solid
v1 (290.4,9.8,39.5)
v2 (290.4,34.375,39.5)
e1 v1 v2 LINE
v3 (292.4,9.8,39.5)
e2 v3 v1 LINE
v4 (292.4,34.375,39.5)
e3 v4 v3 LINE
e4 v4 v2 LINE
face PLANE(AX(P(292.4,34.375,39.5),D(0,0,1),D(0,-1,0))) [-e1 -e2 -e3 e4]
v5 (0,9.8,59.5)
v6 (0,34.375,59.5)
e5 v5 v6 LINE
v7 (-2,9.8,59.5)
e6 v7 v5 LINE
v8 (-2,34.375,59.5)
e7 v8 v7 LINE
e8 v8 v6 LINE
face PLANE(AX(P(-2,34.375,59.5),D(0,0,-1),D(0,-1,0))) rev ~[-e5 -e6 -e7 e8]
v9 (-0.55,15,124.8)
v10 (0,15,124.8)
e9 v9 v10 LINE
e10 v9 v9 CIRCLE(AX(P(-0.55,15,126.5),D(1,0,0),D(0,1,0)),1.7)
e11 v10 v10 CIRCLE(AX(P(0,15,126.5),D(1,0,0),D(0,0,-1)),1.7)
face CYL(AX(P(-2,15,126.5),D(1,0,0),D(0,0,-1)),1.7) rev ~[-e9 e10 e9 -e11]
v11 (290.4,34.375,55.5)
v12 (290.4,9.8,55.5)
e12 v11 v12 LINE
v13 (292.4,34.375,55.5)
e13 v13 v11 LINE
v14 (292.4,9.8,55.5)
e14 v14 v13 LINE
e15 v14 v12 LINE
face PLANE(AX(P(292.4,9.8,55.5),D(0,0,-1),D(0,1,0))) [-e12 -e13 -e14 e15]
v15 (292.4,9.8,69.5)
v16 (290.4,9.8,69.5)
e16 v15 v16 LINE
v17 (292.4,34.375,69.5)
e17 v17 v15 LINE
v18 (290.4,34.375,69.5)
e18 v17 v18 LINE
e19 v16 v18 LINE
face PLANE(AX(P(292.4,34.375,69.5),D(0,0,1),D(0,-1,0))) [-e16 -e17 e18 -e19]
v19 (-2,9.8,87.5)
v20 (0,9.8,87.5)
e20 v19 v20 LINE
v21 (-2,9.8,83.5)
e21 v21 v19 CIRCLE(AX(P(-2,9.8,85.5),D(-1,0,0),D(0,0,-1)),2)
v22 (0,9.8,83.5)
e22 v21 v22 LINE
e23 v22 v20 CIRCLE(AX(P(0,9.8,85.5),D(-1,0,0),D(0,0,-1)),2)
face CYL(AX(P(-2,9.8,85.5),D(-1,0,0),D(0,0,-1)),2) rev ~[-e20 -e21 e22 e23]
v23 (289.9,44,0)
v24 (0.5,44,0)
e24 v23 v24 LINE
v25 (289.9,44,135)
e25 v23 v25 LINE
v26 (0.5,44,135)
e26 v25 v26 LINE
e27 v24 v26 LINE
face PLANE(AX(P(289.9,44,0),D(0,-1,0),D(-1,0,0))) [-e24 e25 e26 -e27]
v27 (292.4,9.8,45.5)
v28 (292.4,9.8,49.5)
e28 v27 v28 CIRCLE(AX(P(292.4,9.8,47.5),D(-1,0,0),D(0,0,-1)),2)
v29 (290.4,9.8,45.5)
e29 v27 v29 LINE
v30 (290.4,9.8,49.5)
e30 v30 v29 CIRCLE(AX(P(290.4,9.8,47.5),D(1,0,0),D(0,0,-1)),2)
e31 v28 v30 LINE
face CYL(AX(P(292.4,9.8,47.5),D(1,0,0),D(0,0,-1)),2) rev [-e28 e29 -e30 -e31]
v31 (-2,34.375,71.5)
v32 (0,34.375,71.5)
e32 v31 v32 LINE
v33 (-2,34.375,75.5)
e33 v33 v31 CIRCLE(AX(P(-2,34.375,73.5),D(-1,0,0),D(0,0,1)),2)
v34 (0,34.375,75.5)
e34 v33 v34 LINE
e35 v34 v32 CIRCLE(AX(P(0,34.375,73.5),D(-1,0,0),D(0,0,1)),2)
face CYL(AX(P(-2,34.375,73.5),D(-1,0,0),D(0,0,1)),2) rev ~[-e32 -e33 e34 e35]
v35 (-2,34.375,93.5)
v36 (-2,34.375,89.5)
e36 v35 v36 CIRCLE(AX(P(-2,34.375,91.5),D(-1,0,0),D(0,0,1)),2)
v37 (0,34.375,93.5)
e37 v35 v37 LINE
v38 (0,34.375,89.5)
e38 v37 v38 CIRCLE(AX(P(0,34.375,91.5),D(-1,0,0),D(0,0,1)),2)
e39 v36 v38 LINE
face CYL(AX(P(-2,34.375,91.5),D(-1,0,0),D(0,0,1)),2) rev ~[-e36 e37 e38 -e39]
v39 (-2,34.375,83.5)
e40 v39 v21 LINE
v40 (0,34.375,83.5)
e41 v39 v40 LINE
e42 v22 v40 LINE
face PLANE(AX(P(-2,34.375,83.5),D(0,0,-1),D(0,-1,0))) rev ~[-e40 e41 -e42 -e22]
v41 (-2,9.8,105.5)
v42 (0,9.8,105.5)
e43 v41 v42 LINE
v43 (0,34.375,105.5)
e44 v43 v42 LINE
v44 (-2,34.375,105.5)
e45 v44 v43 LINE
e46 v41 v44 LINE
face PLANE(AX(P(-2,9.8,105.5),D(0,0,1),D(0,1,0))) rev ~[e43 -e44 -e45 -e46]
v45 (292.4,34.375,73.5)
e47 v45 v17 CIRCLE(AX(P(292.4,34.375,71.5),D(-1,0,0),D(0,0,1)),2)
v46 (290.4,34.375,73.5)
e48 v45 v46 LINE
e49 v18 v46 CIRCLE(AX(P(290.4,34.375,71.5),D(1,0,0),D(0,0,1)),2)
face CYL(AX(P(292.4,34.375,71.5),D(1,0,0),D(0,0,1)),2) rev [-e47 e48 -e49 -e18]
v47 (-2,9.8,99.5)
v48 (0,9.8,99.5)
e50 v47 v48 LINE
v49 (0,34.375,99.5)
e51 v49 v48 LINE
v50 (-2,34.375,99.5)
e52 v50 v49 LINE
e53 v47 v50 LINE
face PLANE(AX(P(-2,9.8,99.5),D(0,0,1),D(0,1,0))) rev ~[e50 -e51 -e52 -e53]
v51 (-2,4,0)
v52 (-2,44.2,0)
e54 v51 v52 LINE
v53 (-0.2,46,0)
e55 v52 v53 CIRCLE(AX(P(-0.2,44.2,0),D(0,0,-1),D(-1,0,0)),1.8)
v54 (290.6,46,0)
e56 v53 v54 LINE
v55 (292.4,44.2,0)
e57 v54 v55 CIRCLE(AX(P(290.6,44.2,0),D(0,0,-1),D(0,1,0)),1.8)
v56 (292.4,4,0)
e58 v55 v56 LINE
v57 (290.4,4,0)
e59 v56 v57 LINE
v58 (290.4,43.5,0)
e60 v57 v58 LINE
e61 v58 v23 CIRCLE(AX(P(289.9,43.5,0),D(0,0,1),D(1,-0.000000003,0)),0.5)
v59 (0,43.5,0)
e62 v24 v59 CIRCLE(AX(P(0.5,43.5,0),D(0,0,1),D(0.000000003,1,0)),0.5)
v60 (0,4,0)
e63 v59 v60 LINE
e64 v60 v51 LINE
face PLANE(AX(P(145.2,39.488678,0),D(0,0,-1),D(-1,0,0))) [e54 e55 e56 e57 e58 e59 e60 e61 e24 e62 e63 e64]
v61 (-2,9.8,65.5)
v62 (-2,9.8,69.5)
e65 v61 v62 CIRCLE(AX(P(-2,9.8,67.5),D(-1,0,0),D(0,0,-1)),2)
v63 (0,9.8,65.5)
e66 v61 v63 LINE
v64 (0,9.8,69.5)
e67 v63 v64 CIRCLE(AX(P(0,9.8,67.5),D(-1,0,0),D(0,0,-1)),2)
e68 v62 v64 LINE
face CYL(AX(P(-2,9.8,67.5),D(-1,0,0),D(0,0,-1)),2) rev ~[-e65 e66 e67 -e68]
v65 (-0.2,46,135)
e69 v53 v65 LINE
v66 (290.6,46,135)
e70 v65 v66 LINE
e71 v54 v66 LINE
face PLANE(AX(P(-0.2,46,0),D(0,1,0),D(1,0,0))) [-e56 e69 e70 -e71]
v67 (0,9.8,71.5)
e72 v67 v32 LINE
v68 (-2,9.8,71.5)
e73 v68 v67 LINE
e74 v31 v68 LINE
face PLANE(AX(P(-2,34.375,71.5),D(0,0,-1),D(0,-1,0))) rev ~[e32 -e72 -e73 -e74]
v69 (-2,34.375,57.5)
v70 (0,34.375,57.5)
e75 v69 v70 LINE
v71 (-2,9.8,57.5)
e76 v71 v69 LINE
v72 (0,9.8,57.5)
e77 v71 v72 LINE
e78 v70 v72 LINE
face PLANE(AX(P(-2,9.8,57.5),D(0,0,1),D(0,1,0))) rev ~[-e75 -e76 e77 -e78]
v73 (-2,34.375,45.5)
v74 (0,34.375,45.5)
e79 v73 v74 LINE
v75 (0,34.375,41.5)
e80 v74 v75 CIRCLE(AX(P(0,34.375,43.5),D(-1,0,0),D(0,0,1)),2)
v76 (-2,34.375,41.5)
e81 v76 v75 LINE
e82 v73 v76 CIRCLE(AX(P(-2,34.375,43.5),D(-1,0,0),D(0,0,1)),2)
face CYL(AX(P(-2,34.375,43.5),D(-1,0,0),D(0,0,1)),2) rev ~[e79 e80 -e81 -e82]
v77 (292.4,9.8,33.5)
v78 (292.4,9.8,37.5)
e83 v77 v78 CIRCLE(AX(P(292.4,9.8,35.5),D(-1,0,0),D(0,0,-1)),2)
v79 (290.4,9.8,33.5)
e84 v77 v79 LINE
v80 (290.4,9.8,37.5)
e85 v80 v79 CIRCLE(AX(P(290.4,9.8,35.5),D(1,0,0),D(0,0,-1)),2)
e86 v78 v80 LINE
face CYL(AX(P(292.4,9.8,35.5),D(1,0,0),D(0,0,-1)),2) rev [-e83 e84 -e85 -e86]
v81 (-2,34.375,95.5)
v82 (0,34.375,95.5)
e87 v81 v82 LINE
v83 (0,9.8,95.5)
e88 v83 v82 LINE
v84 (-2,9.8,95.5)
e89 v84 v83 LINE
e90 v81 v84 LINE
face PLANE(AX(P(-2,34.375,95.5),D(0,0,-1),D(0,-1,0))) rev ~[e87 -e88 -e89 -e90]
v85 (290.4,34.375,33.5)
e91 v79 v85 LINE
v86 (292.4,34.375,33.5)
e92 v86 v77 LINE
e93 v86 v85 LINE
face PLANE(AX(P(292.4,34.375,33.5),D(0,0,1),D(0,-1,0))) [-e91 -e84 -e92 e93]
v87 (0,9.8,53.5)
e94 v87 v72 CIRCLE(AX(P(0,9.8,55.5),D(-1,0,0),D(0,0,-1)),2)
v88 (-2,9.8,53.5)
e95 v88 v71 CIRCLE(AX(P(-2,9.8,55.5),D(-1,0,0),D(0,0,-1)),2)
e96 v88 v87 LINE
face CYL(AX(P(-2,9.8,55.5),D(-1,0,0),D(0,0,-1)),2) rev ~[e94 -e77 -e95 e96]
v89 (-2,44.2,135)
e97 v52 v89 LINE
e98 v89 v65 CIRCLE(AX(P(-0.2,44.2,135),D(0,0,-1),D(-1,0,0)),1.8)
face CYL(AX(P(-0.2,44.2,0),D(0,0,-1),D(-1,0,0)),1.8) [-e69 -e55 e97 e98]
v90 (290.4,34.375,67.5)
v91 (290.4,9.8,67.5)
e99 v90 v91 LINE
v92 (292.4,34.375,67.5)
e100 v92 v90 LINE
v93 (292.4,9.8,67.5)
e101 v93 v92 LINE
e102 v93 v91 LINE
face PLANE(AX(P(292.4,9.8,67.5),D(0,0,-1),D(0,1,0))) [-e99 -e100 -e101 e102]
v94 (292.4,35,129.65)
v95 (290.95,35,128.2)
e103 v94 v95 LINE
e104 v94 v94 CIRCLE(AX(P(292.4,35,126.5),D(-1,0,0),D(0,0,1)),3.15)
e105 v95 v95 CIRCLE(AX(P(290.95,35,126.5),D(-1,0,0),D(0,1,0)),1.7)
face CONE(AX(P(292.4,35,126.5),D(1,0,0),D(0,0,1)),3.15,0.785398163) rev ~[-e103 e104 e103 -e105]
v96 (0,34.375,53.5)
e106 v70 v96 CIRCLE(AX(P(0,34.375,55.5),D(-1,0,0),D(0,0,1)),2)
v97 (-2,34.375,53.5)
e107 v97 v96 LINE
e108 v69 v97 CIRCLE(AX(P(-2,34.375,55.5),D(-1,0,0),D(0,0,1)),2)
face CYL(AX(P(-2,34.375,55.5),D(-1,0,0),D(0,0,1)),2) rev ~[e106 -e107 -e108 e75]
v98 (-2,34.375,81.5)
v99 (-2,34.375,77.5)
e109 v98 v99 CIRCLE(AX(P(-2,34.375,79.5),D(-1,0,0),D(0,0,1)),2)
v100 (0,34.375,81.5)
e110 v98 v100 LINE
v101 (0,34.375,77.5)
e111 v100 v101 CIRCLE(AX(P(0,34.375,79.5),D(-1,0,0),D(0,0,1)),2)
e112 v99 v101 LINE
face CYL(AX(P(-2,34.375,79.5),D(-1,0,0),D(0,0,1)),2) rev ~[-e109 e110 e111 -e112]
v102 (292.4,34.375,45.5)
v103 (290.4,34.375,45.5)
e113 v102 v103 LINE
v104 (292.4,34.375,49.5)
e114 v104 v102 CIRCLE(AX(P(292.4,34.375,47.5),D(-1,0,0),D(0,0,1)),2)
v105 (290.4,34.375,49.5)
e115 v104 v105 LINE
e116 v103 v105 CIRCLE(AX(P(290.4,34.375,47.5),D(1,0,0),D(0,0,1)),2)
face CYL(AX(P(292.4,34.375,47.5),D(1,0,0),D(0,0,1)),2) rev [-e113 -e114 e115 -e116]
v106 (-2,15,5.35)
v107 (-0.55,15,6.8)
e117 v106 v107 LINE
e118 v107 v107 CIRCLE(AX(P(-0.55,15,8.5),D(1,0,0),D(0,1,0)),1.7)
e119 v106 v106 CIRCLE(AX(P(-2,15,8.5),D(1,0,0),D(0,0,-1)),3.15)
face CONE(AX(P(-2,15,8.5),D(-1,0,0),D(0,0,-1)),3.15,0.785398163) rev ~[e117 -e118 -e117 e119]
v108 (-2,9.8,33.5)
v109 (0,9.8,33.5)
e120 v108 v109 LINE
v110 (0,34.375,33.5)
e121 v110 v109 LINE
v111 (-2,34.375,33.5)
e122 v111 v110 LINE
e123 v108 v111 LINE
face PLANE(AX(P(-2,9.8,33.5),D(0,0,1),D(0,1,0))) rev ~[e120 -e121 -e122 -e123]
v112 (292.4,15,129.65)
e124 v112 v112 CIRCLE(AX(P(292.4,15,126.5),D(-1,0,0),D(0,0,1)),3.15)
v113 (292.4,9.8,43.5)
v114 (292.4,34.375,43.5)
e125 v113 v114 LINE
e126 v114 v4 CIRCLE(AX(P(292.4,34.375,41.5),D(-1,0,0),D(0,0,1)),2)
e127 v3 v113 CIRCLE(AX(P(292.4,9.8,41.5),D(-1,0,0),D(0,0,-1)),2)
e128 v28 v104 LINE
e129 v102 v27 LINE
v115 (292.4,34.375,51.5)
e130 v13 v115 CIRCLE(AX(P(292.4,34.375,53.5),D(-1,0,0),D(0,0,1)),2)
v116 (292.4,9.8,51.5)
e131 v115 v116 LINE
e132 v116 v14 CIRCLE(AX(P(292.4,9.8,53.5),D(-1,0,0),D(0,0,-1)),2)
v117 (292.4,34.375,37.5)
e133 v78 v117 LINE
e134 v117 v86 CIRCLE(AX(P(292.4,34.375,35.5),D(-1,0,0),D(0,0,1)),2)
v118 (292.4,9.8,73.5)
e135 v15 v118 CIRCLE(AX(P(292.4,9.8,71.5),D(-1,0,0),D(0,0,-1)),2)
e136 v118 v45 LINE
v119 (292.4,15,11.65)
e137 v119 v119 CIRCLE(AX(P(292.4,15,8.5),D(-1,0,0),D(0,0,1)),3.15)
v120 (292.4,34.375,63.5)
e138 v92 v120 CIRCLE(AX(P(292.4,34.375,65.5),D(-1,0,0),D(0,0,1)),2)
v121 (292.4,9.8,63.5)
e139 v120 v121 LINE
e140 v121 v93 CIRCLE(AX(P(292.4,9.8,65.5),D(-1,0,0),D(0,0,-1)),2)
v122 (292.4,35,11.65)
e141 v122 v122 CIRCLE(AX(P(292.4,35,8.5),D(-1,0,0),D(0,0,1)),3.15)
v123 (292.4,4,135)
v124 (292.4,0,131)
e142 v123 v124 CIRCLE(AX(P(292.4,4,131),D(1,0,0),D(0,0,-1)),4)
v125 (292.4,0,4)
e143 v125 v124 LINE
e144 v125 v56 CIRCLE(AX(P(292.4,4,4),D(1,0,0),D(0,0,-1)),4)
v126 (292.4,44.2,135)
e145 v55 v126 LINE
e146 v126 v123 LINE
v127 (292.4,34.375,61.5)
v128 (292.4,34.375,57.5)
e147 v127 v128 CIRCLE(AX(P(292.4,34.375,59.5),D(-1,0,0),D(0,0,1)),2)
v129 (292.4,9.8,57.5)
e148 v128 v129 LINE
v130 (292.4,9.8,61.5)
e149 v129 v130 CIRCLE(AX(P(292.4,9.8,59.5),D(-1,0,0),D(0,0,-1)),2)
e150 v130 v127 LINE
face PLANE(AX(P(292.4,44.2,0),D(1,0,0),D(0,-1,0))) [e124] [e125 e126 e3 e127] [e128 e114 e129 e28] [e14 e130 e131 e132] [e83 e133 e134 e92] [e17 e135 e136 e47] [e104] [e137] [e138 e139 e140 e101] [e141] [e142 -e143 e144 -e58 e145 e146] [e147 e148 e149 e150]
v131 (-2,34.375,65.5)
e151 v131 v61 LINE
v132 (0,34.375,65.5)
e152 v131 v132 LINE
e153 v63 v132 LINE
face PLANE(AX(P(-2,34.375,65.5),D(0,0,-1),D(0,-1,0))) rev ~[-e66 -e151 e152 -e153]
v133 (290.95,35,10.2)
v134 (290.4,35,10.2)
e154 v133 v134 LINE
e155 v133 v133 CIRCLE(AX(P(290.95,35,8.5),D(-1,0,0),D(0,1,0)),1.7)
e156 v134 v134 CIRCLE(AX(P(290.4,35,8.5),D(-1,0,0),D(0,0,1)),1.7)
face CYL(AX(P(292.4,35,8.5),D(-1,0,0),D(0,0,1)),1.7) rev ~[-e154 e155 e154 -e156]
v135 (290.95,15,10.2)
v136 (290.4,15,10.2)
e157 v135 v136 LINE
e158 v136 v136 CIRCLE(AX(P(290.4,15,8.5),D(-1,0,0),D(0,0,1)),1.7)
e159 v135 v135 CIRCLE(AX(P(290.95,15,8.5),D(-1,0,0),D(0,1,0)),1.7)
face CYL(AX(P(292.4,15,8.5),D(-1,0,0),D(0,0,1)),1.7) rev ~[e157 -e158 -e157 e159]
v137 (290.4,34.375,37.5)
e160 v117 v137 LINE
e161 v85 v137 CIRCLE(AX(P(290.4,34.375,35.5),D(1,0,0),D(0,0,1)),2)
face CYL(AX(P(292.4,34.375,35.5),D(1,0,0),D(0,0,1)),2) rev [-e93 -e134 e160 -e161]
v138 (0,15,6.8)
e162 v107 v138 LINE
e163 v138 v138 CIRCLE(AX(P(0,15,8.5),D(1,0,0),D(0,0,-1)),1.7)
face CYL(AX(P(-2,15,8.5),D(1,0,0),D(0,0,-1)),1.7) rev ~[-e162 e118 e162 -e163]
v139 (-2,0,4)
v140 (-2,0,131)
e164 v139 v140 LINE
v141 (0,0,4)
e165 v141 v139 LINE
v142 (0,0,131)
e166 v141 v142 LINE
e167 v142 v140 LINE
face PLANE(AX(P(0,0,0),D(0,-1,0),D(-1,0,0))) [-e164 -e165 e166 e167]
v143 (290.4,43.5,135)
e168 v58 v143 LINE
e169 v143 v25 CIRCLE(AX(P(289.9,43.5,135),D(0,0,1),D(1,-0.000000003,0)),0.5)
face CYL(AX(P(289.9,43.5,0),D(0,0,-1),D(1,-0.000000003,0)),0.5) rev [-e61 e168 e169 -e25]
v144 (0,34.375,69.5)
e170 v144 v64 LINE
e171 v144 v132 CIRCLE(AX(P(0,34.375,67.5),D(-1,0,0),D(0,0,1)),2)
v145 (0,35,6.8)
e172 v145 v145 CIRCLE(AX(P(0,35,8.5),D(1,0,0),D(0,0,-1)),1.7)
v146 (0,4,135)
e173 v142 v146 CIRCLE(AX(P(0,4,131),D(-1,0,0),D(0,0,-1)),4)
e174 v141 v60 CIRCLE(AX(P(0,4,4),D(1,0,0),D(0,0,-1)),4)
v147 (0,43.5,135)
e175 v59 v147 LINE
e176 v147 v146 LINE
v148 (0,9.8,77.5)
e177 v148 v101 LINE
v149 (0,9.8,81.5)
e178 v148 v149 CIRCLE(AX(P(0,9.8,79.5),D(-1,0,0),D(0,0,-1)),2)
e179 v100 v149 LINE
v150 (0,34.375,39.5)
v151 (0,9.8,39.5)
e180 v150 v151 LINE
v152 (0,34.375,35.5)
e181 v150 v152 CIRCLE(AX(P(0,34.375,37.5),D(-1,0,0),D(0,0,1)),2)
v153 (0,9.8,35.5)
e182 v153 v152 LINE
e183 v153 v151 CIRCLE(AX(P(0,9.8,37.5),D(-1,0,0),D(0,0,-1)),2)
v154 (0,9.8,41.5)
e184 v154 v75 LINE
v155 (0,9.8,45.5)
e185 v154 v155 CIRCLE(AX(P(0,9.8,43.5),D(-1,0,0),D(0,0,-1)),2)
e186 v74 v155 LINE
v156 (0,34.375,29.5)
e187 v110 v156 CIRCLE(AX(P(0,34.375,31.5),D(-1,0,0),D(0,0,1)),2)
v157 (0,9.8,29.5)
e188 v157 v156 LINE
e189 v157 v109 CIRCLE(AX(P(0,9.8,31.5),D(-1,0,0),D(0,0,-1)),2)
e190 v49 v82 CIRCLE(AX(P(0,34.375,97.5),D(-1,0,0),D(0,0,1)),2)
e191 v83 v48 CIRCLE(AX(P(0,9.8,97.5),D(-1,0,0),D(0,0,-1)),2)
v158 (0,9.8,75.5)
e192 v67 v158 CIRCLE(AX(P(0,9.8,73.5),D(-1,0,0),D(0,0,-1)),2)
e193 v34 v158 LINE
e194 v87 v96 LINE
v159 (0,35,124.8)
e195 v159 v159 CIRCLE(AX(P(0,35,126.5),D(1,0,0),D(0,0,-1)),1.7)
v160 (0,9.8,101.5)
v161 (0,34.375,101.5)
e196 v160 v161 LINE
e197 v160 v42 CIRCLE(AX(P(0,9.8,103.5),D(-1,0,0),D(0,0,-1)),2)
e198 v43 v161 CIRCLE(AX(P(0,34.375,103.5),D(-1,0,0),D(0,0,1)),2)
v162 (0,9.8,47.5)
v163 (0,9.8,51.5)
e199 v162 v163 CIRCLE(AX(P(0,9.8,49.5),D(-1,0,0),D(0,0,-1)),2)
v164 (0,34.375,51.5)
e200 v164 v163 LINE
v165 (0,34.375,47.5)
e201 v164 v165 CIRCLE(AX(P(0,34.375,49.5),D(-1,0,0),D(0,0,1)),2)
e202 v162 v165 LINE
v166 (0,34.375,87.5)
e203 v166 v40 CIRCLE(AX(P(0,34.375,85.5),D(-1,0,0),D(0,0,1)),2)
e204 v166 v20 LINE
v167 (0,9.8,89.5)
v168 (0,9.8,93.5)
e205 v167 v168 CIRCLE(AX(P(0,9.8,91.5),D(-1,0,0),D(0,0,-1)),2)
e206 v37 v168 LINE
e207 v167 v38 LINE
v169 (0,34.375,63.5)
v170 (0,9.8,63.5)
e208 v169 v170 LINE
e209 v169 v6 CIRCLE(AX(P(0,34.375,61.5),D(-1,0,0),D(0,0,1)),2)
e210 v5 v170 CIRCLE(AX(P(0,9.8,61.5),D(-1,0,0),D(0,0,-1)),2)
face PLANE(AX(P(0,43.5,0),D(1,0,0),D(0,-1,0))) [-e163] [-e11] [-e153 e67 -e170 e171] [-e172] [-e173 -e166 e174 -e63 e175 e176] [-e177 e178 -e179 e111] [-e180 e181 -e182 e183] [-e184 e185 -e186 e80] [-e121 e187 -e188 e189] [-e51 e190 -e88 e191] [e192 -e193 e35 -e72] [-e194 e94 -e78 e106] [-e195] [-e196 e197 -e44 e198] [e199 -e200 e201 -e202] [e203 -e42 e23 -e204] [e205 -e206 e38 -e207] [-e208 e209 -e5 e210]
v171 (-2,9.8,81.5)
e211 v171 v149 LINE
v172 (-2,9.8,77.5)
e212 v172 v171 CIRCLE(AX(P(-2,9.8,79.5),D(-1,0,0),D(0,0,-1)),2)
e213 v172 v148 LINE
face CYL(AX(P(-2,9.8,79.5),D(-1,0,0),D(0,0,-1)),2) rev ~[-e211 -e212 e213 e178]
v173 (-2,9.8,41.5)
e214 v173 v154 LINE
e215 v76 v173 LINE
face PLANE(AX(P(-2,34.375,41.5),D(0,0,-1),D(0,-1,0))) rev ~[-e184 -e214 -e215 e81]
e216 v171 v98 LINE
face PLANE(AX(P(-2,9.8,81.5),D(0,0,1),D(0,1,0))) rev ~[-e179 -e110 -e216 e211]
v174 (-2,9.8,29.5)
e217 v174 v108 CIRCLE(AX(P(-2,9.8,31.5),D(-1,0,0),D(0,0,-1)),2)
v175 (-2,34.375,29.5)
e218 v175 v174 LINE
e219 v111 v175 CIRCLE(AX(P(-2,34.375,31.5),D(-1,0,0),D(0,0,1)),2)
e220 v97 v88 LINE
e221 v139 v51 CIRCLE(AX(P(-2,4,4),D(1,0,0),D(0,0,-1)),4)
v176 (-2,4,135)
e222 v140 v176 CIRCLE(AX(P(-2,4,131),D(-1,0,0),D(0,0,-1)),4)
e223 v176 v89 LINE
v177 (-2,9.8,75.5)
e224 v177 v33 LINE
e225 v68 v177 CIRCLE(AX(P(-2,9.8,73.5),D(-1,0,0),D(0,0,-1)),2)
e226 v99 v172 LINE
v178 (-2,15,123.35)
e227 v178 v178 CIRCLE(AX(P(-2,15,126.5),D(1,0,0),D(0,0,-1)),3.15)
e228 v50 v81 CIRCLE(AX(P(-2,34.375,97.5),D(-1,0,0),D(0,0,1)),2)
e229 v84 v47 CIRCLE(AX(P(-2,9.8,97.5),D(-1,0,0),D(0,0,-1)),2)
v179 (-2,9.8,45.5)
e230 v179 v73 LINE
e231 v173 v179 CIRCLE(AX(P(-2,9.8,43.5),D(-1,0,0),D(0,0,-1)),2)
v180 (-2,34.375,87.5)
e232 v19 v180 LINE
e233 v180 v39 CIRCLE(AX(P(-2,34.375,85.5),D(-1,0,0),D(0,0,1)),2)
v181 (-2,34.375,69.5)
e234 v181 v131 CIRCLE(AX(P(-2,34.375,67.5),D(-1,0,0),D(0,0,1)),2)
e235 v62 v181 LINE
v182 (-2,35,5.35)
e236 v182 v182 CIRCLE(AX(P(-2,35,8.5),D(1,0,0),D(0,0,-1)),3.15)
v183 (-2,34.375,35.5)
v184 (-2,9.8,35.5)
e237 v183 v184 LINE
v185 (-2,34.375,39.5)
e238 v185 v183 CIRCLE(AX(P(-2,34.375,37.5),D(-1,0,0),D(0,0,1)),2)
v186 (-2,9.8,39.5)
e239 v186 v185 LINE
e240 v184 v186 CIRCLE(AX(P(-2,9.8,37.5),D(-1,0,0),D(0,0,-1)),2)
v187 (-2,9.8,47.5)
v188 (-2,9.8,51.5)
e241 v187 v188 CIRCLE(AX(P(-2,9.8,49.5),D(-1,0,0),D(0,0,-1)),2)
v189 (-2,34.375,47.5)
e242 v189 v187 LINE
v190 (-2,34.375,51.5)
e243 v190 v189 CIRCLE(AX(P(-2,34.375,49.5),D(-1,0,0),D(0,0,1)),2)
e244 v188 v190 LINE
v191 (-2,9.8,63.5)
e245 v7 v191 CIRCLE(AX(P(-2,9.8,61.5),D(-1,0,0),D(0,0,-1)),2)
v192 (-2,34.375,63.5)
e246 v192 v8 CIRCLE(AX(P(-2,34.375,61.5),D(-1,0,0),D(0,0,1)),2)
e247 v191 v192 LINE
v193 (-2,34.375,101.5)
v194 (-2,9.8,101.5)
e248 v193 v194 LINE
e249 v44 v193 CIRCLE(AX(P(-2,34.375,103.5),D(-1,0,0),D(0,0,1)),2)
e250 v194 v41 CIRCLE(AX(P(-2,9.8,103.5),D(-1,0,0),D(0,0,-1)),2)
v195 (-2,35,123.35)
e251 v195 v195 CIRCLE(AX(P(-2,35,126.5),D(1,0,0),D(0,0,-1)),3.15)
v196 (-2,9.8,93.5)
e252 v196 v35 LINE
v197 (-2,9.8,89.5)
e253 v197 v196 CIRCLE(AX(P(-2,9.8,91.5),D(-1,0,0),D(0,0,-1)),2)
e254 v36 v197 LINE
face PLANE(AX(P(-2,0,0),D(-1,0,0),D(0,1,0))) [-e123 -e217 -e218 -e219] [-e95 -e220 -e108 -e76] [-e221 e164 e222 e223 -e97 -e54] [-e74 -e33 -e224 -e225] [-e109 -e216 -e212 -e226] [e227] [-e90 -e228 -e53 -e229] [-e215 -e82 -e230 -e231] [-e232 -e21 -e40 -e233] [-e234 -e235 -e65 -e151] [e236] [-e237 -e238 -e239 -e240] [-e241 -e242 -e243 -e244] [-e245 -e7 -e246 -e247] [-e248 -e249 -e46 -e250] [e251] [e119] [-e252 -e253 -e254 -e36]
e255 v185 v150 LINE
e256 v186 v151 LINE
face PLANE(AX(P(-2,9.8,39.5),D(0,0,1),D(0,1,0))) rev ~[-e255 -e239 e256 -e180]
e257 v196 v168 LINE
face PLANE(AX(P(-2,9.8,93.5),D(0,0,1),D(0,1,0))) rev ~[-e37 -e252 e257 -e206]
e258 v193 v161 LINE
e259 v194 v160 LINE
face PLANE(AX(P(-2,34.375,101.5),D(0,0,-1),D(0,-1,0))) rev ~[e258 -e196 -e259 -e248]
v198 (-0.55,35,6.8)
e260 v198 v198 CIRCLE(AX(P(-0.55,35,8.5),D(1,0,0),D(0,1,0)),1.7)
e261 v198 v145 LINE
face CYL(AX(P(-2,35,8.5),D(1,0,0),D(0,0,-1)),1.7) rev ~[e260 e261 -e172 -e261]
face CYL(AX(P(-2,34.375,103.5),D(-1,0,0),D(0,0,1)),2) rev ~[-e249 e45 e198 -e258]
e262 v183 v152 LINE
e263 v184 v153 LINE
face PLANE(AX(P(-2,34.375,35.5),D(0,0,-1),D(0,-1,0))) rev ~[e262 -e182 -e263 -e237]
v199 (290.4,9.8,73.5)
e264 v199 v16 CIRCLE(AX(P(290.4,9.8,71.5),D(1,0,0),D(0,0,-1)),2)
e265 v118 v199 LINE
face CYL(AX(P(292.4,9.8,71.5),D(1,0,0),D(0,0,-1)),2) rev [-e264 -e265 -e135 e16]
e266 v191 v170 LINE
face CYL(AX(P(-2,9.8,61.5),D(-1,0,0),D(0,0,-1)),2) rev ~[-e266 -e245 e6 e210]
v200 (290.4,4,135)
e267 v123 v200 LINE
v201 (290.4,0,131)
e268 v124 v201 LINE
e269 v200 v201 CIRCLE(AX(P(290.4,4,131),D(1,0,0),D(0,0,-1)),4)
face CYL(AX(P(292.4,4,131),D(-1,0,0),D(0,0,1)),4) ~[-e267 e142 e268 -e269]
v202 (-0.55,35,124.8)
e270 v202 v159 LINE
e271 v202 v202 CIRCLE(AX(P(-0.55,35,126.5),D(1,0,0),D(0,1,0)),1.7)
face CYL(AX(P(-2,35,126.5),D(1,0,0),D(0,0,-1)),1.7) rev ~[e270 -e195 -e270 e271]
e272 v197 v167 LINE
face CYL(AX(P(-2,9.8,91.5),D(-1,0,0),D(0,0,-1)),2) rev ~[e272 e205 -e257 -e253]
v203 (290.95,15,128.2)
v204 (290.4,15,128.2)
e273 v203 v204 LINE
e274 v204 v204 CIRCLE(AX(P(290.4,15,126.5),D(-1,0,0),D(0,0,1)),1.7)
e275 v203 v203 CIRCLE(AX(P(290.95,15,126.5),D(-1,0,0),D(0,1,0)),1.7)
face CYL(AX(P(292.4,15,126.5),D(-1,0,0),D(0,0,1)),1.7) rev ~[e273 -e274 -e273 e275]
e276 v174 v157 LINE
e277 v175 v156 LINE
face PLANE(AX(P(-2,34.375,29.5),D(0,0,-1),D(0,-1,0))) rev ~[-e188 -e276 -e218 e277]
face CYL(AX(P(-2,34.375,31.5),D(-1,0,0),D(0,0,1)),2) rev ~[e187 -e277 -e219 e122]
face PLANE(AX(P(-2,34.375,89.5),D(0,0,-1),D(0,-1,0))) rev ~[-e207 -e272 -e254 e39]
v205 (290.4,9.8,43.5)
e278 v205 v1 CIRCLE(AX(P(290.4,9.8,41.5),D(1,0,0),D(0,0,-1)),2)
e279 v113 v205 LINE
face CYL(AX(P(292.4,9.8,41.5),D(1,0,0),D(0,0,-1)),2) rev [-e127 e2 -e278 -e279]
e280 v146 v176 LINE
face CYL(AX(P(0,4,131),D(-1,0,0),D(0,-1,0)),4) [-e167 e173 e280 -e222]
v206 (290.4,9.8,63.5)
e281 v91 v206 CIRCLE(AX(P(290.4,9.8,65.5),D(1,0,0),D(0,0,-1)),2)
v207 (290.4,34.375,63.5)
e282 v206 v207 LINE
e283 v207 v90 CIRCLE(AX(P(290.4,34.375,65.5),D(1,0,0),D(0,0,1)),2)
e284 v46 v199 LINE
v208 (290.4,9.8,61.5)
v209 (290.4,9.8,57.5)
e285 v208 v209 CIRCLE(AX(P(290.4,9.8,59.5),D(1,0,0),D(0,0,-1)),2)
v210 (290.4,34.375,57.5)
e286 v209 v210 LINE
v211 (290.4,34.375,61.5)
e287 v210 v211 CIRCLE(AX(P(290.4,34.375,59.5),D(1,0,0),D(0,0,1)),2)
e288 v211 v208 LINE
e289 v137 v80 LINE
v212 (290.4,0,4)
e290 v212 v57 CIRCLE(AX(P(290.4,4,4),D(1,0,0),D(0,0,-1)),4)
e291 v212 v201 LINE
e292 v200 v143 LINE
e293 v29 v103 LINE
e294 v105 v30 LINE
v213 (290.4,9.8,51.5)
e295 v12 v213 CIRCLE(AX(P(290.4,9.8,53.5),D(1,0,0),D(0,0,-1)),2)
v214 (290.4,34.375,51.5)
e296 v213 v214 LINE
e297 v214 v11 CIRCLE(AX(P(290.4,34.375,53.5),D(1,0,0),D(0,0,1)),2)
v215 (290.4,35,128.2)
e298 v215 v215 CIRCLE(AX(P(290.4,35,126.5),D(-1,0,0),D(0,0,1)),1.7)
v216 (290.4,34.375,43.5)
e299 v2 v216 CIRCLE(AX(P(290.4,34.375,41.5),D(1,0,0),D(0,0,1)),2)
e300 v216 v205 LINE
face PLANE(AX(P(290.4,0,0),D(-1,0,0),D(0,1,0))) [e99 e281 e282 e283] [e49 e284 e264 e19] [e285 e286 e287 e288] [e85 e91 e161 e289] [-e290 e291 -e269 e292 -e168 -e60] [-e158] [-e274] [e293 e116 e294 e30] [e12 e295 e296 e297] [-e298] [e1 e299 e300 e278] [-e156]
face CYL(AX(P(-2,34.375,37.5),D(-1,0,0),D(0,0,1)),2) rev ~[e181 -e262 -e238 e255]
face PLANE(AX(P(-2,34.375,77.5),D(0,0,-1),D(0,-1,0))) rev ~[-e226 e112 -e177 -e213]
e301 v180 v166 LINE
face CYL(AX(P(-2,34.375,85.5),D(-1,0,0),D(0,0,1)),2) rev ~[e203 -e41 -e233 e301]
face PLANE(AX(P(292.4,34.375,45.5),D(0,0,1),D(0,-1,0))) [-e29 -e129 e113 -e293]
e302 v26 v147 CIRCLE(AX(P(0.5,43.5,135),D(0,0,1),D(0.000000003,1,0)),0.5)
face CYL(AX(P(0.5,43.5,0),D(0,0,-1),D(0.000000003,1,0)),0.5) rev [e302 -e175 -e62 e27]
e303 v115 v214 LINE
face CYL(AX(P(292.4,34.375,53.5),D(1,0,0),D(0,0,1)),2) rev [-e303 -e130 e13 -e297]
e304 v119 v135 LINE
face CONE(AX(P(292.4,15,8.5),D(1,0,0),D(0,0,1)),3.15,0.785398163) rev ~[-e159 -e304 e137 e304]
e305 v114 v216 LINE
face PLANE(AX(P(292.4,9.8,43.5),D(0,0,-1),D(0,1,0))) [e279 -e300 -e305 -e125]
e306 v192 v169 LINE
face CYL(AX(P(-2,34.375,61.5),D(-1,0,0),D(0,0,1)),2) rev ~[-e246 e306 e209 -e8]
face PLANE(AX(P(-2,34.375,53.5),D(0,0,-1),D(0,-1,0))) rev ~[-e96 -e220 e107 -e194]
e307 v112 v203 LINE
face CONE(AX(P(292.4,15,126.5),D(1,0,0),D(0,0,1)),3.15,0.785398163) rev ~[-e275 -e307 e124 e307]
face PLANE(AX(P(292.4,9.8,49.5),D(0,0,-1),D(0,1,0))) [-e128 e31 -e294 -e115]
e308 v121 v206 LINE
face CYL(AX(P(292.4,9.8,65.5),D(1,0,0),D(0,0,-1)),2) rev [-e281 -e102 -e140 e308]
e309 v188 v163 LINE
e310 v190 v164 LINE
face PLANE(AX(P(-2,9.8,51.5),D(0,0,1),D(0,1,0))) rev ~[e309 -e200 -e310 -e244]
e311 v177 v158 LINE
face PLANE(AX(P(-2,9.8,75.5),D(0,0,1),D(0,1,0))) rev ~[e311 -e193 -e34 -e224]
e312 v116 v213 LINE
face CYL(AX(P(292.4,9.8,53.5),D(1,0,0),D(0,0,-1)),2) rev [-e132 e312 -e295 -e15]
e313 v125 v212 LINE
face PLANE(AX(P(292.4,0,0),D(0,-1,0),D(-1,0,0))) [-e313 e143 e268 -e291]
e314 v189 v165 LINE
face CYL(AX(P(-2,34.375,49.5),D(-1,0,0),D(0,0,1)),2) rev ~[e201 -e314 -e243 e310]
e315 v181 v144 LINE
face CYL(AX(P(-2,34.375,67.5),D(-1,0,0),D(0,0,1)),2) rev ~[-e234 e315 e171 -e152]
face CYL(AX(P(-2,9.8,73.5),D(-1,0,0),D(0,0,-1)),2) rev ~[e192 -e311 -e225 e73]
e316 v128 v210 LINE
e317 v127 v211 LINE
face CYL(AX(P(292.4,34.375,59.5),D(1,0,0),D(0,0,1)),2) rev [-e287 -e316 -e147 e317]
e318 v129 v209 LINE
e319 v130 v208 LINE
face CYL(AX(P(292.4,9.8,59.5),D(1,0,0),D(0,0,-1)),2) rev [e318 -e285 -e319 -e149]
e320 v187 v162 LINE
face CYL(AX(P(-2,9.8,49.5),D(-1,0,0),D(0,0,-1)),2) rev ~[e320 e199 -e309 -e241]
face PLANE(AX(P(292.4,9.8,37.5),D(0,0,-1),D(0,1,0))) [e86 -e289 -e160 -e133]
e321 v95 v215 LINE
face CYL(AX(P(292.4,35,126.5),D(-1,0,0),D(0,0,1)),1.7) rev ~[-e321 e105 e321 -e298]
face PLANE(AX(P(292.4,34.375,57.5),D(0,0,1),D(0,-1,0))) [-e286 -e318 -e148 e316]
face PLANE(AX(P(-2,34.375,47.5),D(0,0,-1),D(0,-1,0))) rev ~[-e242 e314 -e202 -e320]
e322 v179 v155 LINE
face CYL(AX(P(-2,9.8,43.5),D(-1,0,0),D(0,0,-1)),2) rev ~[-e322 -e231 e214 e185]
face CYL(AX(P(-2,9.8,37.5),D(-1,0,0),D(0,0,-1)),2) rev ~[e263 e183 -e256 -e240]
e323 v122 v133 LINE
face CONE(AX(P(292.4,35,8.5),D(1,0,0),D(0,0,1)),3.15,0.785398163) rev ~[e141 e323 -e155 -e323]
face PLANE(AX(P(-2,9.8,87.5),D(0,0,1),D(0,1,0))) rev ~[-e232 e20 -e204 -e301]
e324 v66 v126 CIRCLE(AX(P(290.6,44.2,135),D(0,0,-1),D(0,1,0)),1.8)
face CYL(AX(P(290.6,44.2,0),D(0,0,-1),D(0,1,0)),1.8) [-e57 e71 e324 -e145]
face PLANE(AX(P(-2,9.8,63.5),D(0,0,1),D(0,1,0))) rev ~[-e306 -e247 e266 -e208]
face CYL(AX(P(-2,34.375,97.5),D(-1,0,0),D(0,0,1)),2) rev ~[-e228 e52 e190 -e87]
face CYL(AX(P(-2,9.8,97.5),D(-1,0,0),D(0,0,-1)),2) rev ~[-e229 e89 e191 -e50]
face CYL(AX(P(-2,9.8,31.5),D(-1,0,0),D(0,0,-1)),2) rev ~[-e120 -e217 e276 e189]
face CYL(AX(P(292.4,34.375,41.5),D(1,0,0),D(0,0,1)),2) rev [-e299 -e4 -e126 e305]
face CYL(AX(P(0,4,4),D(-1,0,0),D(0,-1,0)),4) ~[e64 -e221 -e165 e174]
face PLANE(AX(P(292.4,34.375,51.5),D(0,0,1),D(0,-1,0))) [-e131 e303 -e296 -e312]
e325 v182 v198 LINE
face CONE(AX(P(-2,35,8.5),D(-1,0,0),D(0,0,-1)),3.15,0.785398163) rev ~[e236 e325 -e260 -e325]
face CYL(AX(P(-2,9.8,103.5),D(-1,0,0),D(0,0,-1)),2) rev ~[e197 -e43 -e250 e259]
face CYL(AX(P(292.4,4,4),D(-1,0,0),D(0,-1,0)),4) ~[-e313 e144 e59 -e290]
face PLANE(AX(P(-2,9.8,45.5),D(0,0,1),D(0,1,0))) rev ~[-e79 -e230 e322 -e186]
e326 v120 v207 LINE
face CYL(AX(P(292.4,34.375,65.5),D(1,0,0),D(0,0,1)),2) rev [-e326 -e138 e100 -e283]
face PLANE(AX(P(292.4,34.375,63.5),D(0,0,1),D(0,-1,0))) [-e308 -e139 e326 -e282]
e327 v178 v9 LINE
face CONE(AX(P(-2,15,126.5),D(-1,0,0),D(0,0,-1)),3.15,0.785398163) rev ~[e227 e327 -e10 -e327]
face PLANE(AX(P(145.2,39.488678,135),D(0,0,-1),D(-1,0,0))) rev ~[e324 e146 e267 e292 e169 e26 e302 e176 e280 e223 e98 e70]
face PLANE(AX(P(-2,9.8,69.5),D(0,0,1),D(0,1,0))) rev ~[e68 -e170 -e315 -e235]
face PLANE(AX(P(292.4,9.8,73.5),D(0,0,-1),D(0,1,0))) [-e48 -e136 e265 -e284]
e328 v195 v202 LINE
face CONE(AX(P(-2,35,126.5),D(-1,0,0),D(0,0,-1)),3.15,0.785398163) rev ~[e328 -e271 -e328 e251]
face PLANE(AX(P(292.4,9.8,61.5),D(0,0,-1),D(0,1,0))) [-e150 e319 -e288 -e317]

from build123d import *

# Parameters (mm, degrees)
BOSS_EXTRUDE1_DEPTH                             = 135
CSK_FOR_M3_FLAT_HEAD_MACHINE_SCREW1_D           = 3.4
CSK_FOR_M3_FLAT_HEAD_MACHINE_SCREW1_DEPTH       = 5
CSK_FOR_M3_FLAT_HEAD_MACHINE_SCREW1_CSINK_D     = 6.3
CSK_FOR_M3_FLAT_HEAD_MACHINE_SCREW1_CSINK_ANGLE = 90
CSK_FOR_M3_FLAT_HEAD_MACHINE_SCREW1_TIP         = 1.021463052
CSK_FOR_M3_FLAT_HEAD_MACHINE_SCREW2_D           = 3.4
CSK_FOR_M3_FLAT_HEAD_MACHINE_SCREW2_DEPTH       = 5
CSK_FOR_M3_FLAT_HEAD_MACHINE_SCREW2_CSINK_D     = 6.3
CSK_FOR_M3_FLAT_HEAD_MACHINE_SCREW2_CSINK_ANGLE = 90
CSK_FOR_M3_FLAT_HEAD_MACHINE_SCREW2_TIP         = 1.021463052
FILLET1_R                                       = 4
CUT_EXTRUDE1_DEPTH                              = 10
LPATTERN1_COUNT                                 = 13
LPATTERN1_PITCH                                 = 6
CUT_EXTRUDE2_DEPTH                              = 10
LPATTERN2_COUNT                                 = 7
LPATTERN2_PITCH                                 = 6


with BuildPart() as part:
    # Sketch1 → Boss-Extrude1 (new body)
    with BuildSketch(Plane.XY):
        with BuildLine():
            Line((0, 0), (-2, 0))
            Line((-2, 0), (-2, 44.2))
            ThreePointArc((-2, 44.2), (-1.472792206, 45.472792206), (-0.2, 46))
            Line((-0.2, 46), (290.6, 46))
            ThreePointArc((290.6, 46), (291.872792206, 45.472792206), (292.4, 44.2))
            Line((292.4, 44.2), (292.4, 0))
            Line((292.4, 0), (290.4, 0))
            Line((290.4, 0), (290.4, 43.5))
            ThreePointArc((290.4, 43.5), (290.253553391, 43.853553391), (289.9, 44))
            Line((289.9, 44), (0.5, 44))
            ThreePointArc((0.5, 44), (0.146446609, 43.853553391), (0, 43.5))
            Line((0, 43.5), (0, 0))
        make_face()
    extrude(amount=BOSS_EXTRUDE1_DEPTH)

    # CSK for M3 Flat Head Machine Screw1
    with Locations(Plane.ZY.offset(2)):
        with Locations((8.5, 35), (8.5, 15), (126.5, 35), (126.5, 15)):
            CounterSinkHole(CSK_FOR_M3_FLAT_HEAD_MACHINE_SCREW1_D / 2, CSK_FOR_M3_FLAT_HEAD_MACHINE_SCREW1_CSINK_D / 2, depth=CSK_FOR_M3_FLAT_HEAD_MACHINE_SCREW1_DEPTH, counter_sink_angle=CSK_FOR_M3_FLAT_HEAD_MACHINE_SCREW1_CSINK_ANGLE)
            with Locations((0, 0, -(CSK_FOR_M3_FLAT_HEAD_MACHINE_SCREW1_DEPTH + CSK_FOR_M3_FLAT_HEAD_MACHINE_SCREW1_TIP / 2))):  # 118° drill point
                Cone(0, CSK_FOR_M3_FLAT_HEAD_MACHINE_SCREW1_D / 2, CSK_FOR_M3_FLAT_HEAD_MACHINE_SCREW1_TIP, mode=Mode.SUBTRACT)

    # CSK for M3 Flat Head Machine Screw2
    with Locations(Plane(origin=(292.4, 0, 0), x_dir=(0, 0, -1), z_dir=(1, 0, 0))):
        with Locations((-126.5, 35), (-126.5, 15), (-8.5, 35), (-8.5, 15)):
            CounterSinkHole(CSK_FOR_M3_FLAT_HEAD_MACHINE_SCREW2_D / 2, CSK_FOR_M3_FLAT_HEAD_MACHINE_SCREW2_CSINK_D / 2, depth=CSK_FOR_M3_FLAT_HEAD_MACHINE_SCREW2_DEPTH, counter_sink_angle=CSK_FOR_M3_FLAT_HEAD_MACHINE_SCREW2_CSINK_ANGLE)
            with Locations((0, 0, -(CSK_FOR_M3_FLAT_HEAD_MACHINE_SCREW2_DEPTH + CSK_FOR_M3_FLAT_HEAD_MACHINE_SCREW2_TIP / 2))):  # 118° drill point
                Cone(0, CSK_FOR_M3_FLAT_HEAD_MACHINE_SCREW2_D / 2, CSK_FOR_M3_FLAT_HEAD_MACHINE_SCREW2_TIP, mode=Mode.SUBTRACT)

    # Fillet1
    fillet1_edges = [part.edges().sort_by_distance(p)[0] for p in [
        (-1, 0, 0),
        (291.4, 0, 0),
        (291.4, 0, 135),
        (-1, 0, 135),
    ]]
    fillet(fillet1_edges, radius=FILLET1_R)

    # Sketch6 → Cut-Extrude1 (cut)
    with BuildSketch(Plane(origin=(-2, 0, 0), x_dir=(0, 0, -1), z_dir=(1, 0, 0))):
        with BuildLine():
            Line((-101.5, 34.375), (-101.5, 9.8))
            ThreePointArc((-101.5, 9.8), (-103.5, 7.8), (-105.5, 9.8))
            Line((-105.5, 9.8), (-105.5, 34.375))
            ThreePointArc((-105.5, 34.375), (-103.5, 36.375), (-101.5, 34.375))
        make_face()
    cut_extrude1 = extrude(amount=CUT_EXTRUDE1_DEPTH, mode=Mode.SUBTRACT)

    # LPattern1: Cut-Extrude1 ×13
    with Locations(*[(0, 0, -i * LPATTERN1_PITCH) for i in range(1, LPATTERN1_COUNT)]):
        add(cut_extrude1, mode=Mode.SUBTRACT)

    # Sketch7 → Cut-Extrude2 (cut)
    with BuildSketch(Plane(origin=(292.4, 0, 0), x_dir=(0, 0, -1), z_dir=(1, 0, 0))):
        with BuildLine():
            Line((-33.5, 34.375), (-33.5, 9.8))
            ThreePointArc((-33.5, 9.8), (-35.5, 7.8), (-37.5, 9.8))
            Line((-37.5, 9.8), (-37.5, 34.375))
            ThreePointArc((-37.5, 34.375), (-35.5, 36.375), (-33.5, 34.375))
        make_face()
    cut_extrude2 = extrude(amount=-CUT_EXTRUDE2_DEPTH, mode=Mode.SUBTRACT)

    # LPattern2: Cut-Extrude2 ×7
    with Locations(*[(0, 0, i * LPATTERN2_PITCH) for i in range(1, LPATTERN2_COUNT)]):
        add(cut_extrude2, mode=Mode.SUBTRACT)


solid = part.part
